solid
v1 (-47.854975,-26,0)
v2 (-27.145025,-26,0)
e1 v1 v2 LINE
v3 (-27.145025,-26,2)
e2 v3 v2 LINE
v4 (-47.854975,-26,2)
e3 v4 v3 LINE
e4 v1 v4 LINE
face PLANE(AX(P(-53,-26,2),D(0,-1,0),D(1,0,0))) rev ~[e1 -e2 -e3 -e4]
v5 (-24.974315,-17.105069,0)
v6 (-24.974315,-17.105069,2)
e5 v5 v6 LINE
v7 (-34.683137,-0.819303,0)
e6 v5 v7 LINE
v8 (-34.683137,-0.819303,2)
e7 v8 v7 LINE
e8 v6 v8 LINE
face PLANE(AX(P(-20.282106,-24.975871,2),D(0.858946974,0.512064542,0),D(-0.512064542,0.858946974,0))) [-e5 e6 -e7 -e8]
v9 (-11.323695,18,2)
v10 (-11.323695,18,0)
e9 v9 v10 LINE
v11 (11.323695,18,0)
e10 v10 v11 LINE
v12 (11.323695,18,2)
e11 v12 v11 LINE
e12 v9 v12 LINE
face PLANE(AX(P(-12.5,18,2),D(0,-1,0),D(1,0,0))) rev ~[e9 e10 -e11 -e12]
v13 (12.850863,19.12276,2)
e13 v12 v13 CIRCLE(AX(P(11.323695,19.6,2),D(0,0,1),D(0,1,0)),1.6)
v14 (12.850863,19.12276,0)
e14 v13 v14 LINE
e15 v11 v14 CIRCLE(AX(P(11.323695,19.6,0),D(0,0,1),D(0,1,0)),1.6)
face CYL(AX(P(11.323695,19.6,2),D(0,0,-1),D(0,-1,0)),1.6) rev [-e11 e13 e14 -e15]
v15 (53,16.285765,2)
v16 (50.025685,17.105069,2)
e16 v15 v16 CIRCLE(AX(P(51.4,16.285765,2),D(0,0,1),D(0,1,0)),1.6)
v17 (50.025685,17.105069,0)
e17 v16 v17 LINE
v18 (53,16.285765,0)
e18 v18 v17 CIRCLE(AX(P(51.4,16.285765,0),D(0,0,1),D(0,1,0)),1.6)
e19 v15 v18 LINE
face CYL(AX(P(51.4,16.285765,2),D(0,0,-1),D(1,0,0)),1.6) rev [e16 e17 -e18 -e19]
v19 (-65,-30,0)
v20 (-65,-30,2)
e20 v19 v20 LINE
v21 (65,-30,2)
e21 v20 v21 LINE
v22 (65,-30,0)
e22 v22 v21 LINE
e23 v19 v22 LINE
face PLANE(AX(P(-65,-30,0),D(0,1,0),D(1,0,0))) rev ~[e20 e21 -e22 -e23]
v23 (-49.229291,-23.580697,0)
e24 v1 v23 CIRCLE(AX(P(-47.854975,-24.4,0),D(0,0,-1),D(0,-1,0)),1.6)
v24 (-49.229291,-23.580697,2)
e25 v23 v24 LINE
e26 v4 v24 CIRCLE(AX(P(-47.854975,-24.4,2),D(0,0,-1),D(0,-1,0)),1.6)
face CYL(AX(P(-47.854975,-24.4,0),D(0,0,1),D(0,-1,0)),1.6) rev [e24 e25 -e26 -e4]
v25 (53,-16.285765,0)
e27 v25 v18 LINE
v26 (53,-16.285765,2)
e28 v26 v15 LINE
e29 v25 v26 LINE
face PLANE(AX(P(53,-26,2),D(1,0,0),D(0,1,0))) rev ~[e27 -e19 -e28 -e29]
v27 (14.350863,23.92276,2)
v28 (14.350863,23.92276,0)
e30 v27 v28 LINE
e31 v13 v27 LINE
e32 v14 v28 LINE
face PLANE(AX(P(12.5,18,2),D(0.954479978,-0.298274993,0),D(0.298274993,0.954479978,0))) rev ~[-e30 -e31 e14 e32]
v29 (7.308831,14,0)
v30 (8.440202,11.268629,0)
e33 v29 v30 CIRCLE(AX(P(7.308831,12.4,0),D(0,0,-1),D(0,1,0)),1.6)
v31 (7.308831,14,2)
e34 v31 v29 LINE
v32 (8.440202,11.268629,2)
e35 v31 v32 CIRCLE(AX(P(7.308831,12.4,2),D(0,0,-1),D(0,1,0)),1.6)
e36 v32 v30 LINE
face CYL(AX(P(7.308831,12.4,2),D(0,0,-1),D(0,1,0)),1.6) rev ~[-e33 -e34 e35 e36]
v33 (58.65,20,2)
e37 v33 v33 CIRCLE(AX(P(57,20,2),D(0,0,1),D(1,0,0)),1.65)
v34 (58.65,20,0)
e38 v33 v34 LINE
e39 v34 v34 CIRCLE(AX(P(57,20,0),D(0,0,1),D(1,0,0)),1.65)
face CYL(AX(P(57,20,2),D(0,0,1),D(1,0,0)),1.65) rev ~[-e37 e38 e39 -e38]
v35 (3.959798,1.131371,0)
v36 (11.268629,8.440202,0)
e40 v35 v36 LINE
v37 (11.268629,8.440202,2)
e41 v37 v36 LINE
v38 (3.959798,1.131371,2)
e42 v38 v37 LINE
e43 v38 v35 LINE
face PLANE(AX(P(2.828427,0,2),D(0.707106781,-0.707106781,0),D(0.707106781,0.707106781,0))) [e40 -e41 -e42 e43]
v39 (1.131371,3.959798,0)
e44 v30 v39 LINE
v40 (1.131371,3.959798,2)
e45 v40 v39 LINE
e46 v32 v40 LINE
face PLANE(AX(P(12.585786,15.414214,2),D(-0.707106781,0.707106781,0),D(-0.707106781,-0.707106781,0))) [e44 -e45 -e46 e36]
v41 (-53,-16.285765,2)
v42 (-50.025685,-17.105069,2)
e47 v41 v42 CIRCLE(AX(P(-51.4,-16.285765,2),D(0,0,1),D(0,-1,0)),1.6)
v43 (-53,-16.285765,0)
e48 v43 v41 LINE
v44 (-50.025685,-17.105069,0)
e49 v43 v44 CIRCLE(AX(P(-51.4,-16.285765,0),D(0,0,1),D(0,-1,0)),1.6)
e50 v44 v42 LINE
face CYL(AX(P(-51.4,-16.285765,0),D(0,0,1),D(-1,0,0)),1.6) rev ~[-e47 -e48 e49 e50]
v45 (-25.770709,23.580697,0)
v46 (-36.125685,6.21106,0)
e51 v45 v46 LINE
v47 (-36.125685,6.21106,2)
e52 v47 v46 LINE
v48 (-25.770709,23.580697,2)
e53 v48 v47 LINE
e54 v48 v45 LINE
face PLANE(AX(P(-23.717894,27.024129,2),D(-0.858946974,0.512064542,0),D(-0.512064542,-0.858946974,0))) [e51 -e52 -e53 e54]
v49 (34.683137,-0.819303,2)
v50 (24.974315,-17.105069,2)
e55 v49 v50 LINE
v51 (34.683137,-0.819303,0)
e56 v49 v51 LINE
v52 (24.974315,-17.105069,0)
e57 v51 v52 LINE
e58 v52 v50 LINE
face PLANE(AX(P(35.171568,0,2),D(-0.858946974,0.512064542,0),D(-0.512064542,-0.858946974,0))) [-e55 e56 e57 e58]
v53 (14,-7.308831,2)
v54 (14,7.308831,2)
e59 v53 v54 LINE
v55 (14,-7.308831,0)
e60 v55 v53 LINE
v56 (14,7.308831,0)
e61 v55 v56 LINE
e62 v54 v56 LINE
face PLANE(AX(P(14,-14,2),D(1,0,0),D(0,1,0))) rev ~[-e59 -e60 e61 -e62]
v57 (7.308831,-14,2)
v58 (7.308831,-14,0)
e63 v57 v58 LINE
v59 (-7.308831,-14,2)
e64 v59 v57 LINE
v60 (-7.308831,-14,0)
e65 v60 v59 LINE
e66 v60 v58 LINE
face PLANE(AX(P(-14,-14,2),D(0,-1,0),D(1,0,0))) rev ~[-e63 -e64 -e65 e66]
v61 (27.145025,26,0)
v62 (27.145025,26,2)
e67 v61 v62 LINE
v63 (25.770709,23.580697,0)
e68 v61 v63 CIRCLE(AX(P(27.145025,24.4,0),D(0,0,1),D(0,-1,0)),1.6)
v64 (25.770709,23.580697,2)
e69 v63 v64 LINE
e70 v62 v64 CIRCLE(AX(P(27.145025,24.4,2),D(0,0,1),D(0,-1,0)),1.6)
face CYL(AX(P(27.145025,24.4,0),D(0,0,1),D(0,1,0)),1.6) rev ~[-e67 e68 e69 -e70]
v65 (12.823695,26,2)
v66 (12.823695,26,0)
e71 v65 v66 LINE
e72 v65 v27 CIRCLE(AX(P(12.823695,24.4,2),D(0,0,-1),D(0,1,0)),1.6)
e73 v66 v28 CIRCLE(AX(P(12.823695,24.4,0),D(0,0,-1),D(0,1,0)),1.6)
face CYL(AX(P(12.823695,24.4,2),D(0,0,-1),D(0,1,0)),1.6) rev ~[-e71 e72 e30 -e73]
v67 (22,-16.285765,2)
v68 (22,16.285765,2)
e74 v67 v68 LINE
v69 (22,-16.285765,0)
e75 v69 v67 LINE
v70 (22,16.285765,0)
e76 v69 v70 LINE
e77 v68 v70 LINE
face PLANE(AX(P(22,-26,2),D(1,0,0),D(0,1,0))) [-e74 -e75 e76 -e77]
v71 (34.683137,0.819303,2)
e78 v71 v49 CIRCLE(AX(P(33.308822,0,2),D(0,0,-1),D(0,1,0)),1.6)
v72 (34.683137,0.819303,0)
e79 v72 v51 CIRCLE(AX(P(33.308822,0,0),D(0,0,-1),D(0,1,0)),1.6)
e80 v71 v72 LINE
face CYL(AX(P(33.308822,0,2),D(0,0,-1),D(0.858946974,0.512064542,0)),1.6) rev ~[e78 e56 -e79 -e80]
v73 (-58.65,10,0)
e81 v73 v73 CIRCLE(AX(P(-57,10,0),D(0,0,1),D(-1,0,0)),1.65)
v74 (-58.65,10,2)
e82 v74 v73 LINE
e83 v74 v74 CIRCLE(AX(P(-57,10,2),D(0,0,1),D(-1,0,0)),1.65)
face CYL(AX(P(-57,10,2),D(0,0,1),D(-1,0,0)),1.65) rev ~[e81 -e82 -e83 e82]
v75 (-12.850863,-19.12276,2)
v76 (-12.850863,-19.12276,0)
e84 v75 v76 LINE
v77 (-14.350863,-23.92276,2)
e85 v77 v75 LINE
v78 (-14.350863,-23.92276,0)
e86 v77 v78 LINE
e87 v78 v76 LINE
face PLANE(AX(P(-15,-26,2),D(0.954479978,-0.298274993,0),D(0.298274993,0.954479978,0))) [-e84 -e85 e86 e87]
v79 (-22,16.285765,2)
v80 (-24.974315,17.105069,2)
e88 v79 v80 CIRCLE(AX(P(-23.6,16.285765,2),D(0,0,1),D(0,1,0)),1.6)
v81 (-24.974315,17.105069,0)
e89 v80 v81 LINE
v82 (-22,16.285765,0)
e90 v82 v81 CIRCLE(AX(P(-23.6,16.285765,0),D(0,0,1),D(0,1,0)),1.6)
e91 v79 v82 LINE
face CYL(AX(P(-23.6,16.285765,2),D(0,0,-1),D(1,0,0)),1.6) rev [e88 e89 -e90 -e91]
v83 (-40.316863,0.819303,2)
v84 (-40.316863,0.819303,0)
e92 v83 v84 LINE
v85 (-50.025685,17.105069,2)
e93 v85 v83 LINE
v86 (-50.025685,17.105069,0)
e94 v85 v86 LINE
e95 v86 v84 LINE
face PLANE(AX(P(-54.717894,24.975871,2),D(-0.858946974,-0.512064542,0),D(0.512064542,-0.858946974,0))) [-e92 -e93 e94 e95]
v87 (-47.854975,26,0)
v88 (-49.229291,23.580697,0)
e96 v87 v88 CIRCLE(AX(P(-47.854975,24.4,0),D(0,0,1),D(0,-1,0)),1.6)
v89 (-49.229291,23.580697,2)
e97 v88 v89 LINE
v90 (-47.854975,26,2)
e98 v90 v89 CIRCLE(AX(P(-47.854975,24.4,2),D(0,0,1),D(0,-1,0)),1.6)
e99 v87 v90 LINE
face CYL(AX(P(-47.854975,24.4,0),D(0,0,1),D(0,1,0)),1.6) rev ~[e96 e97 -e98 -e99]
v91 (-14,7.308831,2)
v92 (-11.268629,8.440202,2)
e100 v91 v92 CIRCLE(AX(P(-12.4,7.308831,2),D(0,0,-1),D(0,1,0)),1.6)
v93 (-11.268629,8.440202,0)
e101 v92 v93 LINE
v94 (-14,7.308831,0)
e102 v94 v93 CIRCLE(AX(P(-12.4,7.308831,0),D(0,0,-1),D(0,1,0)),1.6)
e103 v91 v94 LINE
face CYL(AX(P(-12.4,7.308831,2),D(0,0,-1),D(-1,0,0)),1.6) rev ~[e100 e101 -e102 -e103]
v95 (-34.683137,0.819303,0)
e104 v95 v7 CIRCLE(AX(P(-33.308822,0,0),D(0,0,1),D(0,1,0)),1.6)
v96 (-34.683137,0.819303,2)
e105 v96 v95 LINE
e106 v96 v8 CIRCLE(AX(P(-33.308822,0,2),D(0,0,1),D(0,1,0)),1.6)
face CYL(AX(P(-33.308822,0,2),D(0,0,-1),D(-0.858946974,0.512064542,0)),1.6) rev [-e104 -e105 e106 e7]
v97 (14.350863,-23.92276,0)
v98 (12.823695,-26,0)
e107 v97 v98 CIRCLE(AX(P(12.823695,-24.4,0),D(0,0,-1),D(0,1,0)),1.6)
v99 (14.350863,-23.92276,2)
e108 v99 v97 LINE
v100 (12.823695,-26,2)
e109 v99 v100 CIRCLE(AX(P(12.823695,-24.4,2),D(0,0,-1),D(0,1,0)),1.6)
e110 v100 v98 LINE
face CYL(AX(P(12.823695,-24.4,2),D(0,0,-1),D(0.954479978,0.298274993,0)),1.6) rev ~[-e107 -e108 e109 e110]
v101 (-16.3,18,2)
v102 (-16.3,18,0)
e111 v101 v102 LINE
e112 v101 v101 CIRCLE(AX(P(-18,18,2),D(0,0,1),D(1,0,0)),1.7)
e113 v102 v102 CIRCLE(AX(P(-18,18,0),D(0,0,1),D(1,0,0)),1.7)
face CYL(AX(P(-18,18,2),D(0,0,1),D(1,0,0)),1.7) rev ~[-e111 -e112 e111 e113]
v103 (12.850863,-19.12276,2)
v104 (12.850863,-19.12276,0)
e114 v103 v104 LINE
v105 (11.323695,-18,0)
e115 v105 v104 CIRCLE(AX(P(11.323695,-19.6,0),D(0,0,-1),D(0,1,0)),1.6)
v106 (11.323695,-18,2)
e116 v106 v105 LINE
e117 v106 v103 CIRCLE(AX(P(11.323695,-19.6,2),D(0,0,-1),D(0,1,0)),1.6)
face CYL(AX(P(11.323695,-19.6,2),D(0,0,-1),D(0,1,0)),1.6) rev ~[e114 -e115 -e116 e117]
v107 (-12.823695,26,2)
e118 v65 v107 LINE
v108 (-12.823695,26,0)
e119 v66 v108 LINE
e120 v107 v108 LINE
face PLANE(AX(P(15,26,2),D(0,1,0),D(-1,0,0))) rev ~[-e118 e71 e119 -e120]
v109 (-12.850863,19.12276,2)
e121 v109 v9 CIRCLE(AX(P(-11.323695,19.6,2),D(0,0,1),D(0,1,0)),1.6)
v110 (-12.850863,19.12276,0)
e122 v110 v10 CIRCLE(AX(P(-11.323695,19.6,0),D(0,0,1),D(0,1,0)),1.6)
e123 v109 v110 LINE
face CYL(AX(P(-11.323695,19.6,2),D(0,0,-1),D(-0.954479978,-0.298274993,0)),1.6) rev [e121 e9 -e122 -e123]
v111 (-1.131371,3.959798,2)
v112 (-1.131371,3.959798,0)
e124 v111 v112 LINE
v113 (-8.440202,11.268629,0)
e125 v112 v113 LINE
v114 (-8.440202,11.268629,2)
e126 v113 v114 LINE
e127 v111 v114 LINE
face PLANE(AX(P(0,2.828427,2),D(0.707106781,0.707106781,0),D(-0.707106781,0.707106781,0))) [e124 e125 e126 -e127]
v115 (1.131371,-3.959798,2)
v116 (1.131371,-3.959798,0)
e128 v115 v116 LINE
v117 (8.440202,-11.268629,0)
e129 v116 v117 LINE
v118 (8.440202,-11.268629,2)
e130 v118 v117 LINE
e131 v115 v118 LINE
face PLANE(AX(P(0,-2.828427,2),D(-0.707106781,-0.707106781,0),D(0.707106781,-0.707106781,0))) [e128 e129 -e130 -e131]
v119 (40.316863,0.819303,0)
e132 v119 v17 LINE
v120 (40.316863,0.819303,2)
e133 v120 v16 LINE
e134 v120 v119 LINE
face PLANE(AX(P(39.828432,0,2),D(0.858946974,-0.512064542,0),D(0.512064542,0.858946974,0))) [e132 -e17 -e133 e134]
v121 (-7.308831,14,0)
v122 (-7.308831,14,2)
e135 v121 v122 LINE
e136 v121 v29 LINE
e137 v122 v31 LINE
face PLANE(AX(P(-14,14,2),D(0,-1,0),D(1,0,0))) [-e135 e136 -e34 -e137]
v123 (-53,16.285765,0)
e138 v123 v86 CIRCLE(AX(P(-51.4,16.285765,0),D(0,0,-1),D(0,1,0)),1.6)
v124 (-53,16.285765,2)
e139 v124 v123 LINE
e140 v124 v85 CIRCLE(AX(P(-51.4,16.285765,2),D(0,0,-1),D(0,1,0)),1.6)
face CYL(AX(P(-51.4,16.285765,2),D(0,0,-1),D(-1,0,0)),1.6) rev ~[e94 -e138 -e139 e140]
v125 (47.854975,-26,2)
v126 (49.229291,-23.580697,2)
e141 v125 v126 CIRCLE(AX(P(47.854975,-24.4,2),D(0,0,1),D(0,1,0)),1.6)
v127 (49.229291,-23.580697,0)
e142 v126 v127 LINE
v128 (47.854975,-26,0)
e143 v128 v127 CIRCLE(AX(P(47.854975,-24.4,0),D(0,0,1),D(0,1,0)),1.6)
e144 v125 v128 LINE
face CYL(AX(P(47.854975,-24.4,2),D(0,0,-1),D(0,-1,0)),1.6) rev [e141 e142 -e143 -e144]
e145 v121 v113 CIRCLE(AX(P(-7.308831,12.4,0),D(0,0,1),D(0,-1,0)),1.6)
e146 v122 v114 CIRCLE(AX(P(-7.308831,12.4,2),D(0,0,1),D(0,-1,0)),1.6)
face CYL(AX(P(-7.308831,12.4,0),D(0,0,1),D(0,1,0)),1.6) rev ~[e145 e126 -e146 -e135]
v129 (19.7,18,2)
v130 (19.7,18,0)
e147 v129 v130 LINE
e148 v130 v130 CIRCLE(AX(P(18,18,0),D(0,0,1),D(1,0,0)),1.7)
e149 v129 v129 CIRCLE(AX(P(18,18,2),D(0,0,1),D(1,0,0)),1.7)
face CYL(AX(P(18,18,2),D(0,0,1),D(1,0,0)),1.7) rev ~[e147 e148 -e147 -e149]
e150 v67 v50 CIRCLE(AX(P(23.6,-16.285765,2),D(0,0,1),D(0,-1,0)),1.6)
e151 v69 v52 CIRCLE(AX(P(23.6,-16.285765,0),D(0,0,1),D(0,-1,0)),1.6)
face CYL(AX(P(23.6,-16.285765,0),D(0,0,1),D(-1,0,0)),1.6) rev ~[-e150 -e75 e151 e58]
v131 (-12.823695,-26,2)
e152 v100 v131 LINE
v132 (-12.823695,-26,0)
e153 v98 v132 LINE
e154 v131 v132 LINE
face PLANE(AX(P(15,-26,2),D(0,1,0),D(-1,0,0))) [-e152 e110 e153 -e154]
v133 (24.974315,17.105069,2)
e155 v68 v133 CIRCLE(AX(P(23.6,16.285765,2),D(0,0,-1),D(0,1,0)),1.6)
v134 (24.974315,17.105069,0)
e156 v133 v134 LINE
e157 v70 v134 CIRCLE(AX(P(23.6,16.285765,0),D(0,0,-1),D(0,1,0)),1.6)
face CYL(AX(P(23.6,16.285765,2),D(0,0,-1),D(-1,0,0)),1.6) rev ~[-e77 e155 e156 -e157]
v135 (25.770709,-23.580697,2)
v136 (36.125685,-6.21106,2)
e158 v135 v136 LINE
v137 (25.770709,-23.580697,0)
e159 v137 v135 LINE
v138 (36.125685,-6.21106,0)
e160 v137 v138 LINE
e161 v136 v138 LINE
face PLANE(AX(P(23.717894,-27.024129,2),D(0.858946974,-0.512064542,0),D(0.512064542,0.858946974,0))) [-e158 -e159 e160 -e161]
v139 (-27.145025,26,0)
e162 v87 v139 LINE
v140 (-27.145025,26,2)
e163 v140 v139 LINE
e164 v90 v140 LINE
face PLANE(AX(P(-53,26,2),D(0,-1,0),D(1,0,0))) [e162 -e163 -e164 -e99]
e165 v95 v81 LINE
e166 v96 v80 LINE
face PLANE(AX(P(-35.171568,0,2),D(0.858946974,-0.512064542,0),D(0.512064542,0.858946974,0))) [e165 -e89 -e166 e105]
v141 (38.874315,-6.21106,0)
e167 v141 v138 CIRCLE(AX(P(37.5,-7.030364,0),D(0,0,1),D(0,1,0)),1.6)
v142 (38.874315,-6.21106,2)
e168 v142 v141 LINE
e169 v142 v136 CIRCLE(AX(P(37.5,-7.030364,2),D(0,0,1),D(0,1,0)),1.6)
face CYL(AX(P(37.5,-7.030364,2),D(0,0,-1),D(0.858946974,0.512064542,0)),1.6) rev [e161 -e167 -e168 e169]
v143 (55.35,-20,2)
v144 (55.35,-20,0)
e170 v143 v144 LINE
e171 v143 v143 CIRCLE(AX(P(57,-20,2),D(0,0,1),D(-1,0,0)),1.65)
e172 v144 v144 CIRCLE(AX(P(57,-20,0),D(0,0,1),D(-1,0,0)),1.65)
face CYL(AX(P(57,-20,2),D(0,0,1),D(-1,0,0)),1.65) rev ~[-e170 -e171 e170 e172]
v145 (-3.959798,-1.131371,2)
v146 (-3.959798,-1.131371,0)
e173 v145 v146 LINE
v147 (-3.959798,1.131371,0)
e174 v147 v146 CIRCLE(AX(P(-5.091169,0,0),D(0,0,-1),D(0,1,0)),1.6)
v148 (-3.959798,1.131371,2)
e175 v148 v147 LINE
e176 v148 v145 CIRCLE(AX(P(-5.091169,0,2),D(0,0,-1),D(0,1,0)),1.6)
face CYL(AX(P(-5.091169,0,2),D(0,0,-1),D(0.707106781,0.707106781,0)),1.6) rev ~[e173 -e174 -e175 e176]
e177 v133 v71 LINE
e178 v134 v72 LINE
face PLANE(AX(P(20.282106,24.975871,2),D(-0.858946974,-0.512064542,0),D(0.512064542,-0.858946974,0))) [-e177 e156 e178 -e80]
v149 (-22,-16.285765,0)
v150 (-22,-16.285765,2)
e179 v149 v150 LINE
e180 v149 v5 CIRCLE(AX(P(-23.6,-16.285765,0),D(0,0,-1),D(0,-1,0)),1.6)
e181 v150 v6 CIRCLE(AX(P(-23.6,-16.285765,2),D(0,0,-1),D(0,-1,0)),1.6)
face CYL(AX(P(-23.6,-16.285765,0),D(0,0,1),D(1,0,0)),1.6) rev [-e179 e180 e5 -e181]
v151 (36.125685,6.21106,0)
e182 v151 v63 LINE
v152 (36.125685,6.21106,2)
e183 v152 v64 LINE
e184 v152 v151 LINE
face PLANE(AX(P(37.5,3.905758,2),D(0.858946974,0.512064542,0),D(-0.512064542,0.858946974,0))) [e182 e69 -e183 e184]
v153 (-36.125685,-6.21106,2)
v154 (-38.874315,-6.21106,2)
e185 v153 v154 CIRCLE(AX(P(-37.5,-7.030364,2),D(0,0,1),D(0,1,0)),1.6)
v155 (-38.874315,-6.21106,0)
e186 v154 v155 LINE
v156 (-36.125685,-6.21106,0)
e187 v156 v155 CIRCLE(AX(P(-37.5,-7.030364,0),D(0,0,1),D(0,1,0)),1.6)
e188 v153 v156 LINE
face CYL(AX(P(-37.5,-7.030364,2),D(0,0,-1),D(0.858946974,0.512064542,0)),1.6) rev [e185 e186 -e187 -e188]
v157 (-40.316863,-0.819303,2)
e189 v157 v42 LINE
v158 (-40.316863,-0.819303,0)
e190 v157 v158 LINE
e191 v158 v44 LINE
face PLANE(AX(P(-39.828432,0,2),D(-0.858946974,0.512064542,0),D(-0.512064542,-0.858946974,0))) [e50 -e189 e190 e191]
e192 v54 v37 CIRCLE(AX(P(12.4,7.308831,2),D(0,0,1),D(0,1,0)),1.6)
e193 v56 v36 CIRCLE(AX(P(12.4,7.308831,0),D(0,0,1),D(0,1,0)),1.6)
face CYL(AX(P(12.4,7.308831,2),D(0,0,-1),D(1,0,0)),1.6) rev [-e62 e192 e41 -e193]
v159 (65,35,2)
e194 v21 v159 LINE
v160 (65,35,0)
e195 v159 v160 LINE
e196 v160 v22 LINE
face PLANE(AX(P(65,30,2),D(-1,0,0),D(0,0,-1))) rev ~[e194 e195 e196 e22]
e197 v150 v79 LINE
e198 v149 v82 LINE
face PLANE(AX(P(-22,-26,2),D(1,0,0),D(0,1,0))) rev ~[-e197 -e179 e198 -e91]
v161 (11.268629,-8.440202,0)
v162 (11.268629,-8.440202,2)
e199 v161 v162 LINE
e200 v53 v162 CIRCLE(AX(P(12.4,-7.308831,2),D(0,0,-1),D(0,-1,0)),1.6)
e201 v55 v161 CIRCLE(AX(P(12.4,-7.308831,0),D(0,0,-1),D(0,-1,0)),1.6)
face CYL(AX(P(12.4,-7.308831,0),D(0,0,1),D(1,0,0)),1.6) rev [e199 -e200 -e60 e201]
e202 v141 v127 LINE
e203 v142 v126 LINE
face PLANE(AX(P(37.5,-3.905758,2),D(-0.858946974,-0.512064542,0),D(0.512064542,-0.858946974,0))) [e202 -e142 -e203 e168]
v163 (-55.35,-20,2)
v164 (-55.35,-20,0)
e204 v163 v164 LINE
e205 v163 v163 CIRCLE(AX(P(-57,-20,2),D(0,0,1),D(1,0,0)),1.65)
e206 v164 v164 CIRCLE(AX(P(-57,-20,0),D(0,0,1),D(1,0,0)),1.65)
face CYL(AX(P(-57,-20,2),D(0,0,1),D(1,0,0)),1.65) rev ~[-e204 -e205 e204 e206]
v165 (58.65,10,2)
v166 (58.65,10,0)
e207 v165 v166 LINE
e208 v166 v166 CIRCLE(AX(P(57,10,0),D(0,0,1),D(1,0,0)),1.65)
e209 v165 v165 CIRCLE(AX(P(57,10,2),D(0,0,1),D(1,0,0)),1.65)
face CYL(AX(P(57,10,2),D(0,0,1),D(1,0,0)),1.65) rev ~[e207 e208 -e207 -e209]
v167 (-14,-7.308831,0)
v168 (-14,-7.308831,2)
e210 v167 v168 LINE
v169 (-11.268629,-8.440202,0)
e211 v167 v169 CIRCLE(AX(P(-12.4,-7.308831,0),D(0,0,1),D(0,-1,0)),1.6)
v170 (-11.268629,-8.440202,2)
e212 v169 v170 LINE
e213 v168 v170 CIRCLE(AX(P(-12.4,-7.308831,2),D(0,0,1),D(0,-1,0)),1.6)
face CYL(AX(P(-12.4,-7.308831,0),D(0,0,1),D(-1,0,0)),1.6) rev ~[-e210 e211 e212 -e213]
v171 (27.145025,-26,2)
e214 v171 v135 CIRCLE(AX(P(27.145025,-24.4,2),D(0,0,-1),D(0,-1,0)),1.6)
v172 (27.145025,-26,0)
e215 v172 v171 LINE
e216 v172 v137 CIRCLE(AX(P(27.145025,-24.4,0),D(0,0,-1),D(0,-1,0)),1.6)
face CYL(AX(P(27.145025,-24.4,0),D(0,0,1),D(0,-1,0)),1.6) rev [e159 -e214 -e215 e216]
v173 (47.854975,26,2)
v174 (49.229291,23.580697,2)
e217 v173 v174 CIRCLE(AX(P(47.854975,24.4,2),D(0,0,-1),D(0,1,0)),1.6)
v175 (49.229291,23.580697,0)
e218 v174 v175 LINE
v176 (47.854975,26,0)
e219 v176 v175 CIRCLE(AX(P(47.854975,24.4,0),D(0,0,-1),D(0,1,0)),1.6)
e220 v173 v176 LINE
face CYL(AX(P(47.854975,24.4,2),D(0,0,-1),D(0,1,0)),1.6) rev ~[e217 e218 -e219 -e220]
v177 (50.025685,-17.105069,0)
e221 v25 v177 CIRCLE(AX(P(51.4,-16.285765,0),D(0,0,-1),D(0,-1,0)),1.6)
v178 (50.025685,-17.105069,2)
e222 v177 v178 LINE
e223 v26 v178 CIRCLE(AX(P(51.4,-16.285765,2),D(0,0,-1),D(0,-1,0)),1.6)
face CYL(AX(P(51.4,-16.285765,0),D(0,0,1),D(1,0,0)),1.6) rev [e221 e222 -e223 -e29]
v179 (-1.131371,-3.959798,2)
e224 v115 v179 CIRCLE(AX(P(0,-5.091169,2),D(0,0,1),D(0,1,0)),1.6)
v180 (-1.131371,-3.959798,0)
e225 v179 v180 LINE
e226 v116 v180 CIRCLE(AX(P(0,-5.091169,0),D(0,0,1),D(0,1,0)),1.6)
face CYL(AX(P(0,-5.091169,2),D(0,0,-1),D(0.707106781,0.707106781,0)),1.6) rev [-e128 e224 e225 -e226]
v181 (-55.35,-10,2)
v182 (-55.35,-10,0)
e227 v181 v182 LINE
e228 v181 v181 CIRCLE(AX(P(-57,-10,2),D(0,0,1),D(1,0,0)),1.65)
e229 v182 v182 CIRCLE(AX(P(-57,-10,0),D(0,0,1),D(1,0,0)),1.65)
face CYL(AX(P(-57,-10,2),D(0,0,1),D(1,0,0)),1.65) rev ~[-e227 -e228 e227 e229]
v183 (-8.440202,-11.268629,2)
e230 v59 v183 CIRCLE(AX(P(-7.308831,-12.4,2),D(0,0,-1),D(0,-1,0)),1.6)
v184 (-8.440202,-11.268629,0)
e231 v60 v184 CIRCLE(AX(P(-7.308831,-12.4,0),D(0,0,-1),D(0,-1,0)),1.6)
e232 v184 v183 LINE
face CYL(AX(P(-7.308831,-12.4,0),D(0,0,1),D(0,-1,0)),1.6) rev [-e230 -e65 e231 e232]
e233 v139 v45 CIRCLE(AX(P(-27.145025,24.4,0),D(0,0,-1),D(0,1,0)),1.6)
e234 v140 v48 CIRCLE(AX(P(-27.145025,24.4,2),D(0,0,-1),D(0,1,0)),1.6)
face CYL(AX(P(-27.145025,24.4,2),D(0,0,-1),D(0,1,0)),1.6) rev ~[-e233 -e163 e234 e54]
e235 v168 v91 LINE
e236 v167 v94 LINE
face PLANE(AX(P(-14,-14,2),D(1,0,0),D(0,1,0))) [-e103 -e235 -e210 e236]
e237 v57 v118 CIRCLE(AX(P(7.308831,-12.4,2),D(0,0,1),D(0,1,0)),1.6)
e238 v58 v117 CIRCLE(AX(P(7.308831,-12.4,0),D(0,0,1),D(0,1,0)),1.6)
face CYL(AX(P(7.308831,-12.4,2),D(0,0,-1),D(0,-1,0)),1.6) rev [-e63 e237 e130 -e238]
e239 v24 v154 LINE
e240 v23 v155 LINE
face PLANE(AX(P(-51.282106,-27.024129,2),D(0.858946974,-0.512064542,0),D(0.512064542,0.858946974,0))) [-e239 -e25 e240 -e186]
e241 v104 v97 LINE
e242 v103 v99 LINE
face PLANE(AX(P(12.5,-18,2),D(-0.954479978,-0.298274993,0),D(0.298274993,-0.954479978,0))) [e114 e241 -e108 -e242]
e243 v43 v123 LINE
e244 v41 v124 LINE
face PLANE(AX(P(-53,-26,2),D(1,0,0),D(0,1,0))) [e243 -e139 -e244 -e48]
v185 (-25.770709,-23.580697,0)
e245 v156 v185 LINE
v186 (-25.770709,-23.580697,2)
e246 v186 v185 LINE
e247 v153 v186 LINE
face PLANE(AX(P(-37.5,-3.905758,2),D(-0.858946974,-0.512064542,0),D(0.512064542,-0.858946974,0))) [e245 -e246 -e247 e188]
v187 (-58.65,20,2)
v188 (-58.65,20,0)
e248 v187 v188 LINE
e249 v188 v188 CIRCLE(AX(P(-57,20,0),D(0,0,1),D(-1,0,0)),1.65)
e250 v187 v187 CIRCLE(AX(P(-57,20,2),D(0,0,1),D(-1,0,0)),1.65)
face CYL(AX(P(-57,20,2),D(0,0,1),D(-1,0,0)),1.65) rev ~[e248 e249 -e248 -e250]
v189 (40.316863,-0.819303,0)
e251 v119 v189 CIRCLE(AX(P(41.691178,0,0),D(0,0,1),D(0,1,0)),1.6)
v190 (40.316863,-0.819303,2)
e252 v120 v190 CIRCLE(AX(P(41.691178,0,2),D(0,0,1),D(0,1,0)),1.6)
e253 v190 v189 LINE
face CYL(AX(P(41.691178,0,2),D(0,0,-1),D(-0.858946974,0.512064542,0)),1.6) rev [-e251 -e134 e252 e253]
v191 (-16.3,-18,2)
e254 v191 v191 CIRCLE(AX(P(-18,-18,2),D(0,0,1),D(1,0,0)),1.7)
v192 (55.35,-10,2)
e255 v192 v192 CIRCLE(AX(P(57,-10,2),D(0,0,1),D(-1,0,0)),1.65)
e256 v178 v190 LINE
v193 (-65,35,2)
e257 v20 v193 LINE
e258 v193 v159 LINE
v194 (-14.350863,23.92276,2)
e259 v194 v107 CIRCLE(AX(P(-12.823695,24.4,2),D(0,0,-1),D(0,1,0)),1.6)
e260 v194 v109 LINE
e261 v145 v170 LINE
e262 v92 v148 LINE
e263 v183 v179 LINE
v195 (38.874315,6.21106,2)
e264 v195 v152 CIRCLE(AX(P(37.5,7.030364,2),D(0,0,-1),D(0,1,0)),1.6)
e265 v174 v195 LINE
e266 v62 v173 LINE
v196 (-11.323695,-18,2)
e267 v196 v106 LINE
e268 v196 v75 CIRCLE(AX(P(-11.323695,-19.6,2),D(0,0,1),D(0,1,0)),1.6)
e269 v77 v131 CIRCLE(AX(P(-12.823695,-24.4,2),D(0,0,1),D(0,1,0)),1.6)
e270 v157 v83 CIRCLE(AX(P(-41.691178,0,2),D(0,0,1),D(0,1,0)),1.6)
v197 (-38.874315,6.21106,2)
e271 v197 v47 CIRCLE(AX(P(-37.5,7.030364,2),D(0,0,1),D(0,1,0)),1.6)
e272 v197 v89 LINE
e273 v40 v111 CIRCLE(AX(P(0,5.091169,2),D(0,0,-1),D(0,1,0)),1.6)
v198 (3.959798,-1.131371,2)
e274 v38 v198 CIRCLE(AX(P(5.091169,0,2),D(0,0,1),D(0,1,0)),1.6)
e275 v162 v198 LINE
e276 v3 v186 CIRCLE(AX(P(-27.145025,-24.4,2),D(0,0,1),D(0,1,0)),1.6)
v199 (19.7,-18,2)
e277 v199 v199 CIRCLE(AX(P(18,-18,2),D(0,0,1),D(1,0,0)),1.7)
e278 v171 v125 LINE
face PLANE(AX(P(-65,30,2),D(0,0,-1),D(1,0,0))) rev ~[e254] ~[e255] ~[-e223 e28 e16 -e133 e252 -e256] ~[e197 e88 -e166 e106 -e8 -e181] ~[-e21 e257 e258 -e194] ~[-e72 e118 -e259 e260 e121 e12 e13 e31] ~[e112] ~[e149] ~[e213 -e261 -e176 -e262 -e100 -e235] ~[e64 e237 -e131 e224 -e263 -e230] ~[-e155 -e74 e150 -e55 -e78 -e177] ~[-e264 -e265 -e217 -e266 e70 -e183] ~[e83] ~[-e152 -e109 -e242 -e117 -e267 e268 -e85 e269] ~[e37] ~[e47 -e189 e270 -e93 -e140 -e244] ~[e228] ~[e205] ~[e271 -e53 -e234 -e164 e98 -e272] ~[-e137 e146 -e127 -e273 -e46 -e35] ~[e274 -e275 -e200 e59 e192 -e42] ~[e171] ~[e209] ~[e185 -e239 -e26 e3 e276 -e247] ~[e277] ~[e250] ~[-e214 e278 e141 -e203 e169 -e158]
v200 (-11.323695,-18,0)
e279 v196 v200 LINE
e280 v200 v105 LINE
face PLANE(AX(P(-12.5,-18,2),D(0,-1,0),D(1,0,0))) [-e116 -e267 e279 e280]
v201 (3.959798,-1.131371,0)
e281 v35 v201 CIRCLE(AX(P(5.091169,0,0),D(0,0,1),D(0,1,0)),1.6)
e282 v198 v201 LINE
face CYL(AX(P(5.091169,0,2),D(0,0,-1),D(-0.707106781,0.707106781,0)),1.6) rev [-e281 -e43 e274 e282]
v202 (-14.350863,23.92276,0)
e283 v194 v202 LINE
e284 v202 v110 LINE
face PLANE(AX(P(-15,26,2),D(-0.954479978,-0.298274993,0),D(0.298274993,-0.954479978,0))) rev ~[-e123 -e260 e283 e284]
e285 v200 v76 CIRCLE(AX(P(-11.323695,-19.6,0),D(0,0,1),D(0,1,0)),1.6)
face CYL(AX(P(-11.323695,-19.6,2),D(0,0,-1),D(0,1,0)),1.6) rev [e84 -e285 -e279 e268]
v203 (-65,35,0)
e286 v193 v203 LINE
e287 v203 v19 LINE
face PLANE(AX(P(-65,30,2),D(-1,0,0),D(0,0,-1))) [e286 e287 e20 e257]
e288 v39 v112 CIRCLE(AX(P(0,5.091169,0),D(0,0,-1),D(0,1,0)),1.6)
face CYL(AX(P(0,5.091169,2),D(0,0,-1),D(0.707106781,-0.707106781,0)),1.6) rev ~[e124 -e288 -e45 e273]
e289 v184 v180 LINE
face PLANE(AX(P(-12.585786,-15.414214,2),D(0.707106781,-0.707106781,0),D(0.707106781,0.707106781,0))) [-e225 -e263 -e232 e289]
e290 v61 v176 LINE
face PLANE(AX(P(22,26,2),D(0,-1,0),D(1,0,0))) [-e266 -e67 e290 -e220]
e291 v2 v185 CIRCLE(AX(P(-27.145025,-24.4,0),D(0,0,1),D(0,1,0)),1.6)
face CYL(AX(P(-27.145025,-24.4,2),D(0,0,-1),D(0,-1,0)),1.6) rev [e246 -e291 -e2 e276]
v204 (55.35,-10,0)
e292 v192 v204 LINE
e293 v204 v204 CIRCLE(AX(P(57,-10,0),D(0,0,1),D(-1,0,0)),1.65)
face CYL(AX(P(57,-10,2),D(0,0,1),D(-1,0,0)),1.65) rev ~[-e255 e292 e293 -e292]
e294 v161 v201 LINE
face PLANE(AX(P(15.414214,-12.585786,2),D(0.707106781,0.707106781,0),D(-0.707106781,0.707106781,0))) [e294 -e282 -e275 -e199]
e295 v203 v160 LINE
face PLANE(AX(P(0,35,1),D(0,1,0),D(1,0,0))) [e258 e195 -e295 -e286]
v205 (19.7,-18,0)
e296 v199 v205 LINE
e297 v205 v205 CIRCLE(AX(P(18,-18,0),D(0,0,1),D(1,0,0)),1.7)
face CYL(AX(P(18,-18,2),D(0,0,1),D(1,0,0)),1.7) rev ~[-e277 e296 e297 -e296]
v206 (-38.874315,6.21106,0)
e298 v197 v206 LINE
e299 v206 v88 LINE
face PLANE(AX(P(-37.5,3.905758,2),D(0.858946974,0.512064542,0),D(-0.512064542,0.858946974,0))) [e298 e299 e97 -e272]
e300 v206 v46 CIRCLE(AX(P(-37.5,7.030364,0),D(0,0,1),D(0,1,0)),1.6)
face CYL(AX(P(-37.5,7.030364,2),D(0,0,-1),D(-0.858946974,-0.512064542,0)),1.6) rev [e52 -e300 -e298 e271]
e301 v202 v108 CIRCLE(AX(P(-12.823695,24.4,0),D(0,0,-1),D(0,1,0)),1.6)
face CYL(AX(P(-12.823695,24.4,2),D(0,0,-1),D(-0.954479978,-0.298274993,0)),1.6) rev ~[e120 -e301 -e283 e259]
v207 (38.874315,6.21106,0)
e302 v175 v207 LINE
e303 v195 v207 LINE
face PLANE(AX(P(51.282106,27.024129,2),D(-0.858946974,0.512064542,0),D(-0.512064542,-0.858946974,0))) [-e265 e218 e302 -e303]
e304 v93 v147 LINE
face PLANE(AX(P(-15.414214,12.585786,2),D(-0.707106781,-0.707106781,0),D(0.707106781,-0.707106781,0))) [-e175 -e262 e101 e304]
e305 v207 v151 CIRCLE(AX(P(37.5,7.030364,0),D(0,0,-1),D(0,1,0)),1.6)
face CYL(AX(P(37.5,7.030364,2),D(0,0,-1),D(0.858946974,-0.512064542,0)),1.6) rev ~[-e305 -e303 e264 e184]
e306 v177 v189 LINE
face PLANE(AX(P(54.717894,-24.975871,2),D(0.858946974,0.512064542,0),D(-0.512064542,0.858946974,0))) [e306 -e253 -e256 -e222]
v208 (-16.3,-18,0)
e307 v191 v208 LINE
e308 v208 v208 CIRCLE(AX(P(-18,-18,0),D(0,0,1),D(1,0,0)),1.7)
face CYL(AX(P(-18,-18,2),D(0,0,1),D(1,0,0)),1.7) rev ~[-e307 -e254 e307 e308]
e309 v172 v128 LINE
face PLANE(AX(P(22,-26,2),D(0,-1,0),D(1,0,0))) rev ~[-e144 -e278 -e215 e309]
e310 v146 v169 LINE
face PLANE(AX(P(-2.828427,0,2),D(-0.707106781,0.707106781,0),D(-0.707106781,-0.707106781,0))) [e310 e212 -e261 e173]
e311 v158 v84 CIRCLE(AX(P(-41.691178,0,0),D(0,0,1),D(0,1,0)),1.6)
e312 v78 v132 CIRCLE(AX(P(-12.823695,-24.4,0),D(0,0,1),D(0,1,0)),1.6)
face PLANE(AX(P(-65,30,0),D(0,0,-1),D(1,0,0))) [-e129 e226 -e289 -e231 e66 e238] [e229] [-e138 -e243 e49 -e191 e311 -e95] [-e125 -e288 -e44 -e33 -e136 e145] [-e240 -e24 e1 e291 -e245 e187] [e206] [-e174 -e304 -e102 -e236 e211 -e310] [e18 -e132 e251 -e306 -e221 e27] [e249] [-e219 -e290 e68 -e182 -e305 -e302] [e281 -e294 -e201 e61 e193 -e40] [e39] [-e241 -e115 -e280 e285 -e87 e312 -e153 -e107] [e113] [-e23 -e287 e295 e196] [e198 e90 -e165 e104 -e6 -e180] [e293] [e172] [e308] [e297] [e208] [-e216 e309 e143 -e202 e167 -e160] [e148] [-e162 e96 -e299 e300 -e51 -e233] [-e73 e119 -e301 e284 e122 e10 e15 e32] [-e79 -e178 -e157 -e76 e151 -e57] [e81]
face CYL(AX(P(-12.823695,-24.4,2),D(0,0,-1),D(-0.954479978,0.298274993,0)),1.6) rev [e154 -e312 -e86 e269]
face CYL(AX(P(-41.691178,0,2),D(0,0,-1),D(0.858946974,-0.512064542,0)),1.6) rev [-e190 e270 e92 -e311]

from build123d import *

# Parameters (mm, degrees)
SKETCH_1_W          = 130
SKETCH_1_H          = 60
EXTRUDE_1_DEPTH     = 2
SKETCH_2_R          = 1.65
CUT_EXTRUDE_1_DEPTH = 72.617037079
SKETCH_3_R          = 1.7
CUT_EXTRUDE_2_DEPTH = 72.617037079
SKETCH_4_W          = 31
SKETCH_4_H          = 52
SKETCH_4_W_2        = 28
SKETCH_4_H_2        = 28
CUT_EXTRUDE_4_DEPTH = 72.617037079
EXTRUDE_1_2_DEPTH   = 2
FILLET_1_R          = 1.6
SKETCH_6_W          = 130
SKETCH_6_H          = 2
EXTRUDE_2_DEPTH     = 5


with BuildPart() as part:
    # 草图1 → Extrude 1 (new body)
    with BuildSketch(Plane.XY):
        Rectangle(SKETCH_1_W, SKETCH_1_H)
    extrude(amount=EXTRUDE_1_DEPTH)

    # 草图2 → 切除-拉伸1 (cut, through all)
    with BuildSketch(Plane.XY.offset(2)):
        with Locations((-57, -10)):
            Circle(SKETCH_2_R)
        with Locations((-57, -20)):
            Circle(SKETCH_2_R)
        with Locations(Location((57, -10, 0), (0, 0, 180))):
            Circle(SKETCH_2_R)
        with Locations(Location((57, -20, 0), (0, 0, 180))):
            Circle(SKETCH_2_R)
        with Locations((57, 20)):
            Circle(SKETCH_2_R)
        with Locations((57, 10)):
            Circle(SKETCH_2_R)
        with Locations(Location((-57, 20, 0), (0, 0, 180))):
            Circle(SKETCH_2_R)
        with Locations(Location((-57, 10, 0), (0, 0, 180))):
            Circle(SKETCH_2_R)
    extrude(amount=-CUT_EXTRUDE_1_DEPTH, mode=Mode.SUBTRACT)

    # 草图3 → 切除-拉伸2 (cut, through all)
    with BuildSketch(Plane.XY.offset(2)):
        with Locations((-18, 18)):
            Circle(SKETCH_3_R)
        with Locations((-18, -18)):
            Circle(SKETCH_3_R)
        with Locations((18, 18)):
            Circle(SKETCH_3_R)
        with Locations((18, -18)):
            Circle(SKETCH_3_R)
    extrude(amount=-CUT_EXTRUDE_2_DEPTH, mode=Mode.SUBTRACT)

    # 草图4 → 切除-拉伸4 (cut, through all)
    with BuildSketch(Plane.XY.offset(2)):
        with Locations((-37.5, 0)):
            Rectangle(SKETCH_4_W, SKETCH_4_H)
        with Locations((37.5, 0)):
            Rectangle(SKETCH_4_W, SKETCH_4_H)
        Rectangle(SKETCH_4_W_2, SKETCH_4_H_2)
        Polygon((-15, 26), (-12.5, 18), (12.5, 18), (15, 26), align=None)
        Polygon((12.5, -18), (15, -26), (-15, -26), (-12.5, -18), align=None)
    extrude(amount=-CUT_EXTRUDE_4_DEPTH, mode=Mode.SUBTRACT)

    # 草图5 → Extrude 1 2 (add, through all)
    with BuildSketch(Plane.XY.offset(2)):
        Polygon((-54.717893948, 24.975870915), (-23.717893948, -27.024129085), (-20.282106052, -24.975870915), (-51.282106052, 27.024129085), align=None)
        Polygon((-23.717893948, 27.024129085), (-54.717893948, -24.975870915), (-51.282106052, -27.024129085), (-20.282106052, 24.975870915), align=None)
        Polygon((20.282106052, 24.975870915), (51.282106052, -27.024129085), (54.717893948, -24.975870915), (23.717893948, 27.024129085), align=None)
        Polygon((23.717893948, -27.024129085), (54.717893948, 24.975870915), (51.282106052, 27.024129085), (20.282106052, -24.975870915), align=None)
        Polygon((-15.414213562, 12.585786438), (12.585786438, -15.414213562), (15.414213562, -12.585786438), (-12.585786438, 15.414213562), align=None)
        Polygon((-12.585786438, -15.414213562), (15.414213562, 12.585786438), (12.585786438, 15.414213562), (-15.414213562, -12.585786438), align=None)
    extrude(amount=-EXTRUDE_1_2_DEPTH)

    # 圆角1
    fillet_1_edges = [part.edges().sort_by_distance(p)[0] for p in [
        (-12.5, -18, 1),
        (12.5, -18, 1),
        (15, -26, 1),
        (-15, -26, 1),
        (-15, 26, 1),
        (15, 26, 1),
        (12.5, 18, 1),
        (-12.5, 18, 1),
        (-53, -22.094242357, 1),
        (-53, 22.094242357, 1),
        (-50.671567559, -26, 1),
        (-24.328432441, -26, 1),
        (-22, 22.094242357, 1),
        (-22, -22.094242357, 1),
        (-24.328432441, 26, 1),
        (-50.671567559, 26, 1),
        (-37.5, 3.905757643, 1),
        (-35.171567559, 0, 1),
        (-37.5, -3.905757643, 1),
        (-39.828432441, 0, 1),
        (53, -22.094242357, 1),
        (53, 22.094242357, 1),
        (24.328432441, 26, 1),
        (50.671567559, 26, 1),
        (22, 22.094242357, 1),
        (22, -22.094242357, 1),
        (50.671567559, -26, 1),
        (24.328432441, -26, 1),
        (37.5, -3.905757643, 1),
        (35.171567559, 0, 1),
        (37.5, 3.905757643, 1),
        (39.828432441, 0, 1),
        (11.171572875, 14, 1),
        (-11.171572875, 14, 1),
        (-14, -11.171572875, 1),
        (-14, 11.171572875, 1),
        (-11.171572875, -14, 1),
        (11.171572875, -14, 1),
        (14, 11.171572875, 1),
        (14, -11.171572875, 1),
        (2.828427125, 0, 1),
        (0, -2.828427125, 1),
        (-2.828427125, 0, 1),
        (0, 2.828427125, 1),
    ]]
    fillet(fillet_1_edges, radius=FILLET_1_R)

    # 草图6 → 凸台-拉伸2 (add)
    with BuildSketch(Plane(origin=(0, 30, 0), x_dir=(1, 0, 0), z_dir=(0, 1, 0))):
        with Locations((0, -1)):
            Rectangle(SKETCH_6_W, SKETCH_6_H)
    extrude(amount=EXTRUDE_2_DEPTH)


solid = part.part
